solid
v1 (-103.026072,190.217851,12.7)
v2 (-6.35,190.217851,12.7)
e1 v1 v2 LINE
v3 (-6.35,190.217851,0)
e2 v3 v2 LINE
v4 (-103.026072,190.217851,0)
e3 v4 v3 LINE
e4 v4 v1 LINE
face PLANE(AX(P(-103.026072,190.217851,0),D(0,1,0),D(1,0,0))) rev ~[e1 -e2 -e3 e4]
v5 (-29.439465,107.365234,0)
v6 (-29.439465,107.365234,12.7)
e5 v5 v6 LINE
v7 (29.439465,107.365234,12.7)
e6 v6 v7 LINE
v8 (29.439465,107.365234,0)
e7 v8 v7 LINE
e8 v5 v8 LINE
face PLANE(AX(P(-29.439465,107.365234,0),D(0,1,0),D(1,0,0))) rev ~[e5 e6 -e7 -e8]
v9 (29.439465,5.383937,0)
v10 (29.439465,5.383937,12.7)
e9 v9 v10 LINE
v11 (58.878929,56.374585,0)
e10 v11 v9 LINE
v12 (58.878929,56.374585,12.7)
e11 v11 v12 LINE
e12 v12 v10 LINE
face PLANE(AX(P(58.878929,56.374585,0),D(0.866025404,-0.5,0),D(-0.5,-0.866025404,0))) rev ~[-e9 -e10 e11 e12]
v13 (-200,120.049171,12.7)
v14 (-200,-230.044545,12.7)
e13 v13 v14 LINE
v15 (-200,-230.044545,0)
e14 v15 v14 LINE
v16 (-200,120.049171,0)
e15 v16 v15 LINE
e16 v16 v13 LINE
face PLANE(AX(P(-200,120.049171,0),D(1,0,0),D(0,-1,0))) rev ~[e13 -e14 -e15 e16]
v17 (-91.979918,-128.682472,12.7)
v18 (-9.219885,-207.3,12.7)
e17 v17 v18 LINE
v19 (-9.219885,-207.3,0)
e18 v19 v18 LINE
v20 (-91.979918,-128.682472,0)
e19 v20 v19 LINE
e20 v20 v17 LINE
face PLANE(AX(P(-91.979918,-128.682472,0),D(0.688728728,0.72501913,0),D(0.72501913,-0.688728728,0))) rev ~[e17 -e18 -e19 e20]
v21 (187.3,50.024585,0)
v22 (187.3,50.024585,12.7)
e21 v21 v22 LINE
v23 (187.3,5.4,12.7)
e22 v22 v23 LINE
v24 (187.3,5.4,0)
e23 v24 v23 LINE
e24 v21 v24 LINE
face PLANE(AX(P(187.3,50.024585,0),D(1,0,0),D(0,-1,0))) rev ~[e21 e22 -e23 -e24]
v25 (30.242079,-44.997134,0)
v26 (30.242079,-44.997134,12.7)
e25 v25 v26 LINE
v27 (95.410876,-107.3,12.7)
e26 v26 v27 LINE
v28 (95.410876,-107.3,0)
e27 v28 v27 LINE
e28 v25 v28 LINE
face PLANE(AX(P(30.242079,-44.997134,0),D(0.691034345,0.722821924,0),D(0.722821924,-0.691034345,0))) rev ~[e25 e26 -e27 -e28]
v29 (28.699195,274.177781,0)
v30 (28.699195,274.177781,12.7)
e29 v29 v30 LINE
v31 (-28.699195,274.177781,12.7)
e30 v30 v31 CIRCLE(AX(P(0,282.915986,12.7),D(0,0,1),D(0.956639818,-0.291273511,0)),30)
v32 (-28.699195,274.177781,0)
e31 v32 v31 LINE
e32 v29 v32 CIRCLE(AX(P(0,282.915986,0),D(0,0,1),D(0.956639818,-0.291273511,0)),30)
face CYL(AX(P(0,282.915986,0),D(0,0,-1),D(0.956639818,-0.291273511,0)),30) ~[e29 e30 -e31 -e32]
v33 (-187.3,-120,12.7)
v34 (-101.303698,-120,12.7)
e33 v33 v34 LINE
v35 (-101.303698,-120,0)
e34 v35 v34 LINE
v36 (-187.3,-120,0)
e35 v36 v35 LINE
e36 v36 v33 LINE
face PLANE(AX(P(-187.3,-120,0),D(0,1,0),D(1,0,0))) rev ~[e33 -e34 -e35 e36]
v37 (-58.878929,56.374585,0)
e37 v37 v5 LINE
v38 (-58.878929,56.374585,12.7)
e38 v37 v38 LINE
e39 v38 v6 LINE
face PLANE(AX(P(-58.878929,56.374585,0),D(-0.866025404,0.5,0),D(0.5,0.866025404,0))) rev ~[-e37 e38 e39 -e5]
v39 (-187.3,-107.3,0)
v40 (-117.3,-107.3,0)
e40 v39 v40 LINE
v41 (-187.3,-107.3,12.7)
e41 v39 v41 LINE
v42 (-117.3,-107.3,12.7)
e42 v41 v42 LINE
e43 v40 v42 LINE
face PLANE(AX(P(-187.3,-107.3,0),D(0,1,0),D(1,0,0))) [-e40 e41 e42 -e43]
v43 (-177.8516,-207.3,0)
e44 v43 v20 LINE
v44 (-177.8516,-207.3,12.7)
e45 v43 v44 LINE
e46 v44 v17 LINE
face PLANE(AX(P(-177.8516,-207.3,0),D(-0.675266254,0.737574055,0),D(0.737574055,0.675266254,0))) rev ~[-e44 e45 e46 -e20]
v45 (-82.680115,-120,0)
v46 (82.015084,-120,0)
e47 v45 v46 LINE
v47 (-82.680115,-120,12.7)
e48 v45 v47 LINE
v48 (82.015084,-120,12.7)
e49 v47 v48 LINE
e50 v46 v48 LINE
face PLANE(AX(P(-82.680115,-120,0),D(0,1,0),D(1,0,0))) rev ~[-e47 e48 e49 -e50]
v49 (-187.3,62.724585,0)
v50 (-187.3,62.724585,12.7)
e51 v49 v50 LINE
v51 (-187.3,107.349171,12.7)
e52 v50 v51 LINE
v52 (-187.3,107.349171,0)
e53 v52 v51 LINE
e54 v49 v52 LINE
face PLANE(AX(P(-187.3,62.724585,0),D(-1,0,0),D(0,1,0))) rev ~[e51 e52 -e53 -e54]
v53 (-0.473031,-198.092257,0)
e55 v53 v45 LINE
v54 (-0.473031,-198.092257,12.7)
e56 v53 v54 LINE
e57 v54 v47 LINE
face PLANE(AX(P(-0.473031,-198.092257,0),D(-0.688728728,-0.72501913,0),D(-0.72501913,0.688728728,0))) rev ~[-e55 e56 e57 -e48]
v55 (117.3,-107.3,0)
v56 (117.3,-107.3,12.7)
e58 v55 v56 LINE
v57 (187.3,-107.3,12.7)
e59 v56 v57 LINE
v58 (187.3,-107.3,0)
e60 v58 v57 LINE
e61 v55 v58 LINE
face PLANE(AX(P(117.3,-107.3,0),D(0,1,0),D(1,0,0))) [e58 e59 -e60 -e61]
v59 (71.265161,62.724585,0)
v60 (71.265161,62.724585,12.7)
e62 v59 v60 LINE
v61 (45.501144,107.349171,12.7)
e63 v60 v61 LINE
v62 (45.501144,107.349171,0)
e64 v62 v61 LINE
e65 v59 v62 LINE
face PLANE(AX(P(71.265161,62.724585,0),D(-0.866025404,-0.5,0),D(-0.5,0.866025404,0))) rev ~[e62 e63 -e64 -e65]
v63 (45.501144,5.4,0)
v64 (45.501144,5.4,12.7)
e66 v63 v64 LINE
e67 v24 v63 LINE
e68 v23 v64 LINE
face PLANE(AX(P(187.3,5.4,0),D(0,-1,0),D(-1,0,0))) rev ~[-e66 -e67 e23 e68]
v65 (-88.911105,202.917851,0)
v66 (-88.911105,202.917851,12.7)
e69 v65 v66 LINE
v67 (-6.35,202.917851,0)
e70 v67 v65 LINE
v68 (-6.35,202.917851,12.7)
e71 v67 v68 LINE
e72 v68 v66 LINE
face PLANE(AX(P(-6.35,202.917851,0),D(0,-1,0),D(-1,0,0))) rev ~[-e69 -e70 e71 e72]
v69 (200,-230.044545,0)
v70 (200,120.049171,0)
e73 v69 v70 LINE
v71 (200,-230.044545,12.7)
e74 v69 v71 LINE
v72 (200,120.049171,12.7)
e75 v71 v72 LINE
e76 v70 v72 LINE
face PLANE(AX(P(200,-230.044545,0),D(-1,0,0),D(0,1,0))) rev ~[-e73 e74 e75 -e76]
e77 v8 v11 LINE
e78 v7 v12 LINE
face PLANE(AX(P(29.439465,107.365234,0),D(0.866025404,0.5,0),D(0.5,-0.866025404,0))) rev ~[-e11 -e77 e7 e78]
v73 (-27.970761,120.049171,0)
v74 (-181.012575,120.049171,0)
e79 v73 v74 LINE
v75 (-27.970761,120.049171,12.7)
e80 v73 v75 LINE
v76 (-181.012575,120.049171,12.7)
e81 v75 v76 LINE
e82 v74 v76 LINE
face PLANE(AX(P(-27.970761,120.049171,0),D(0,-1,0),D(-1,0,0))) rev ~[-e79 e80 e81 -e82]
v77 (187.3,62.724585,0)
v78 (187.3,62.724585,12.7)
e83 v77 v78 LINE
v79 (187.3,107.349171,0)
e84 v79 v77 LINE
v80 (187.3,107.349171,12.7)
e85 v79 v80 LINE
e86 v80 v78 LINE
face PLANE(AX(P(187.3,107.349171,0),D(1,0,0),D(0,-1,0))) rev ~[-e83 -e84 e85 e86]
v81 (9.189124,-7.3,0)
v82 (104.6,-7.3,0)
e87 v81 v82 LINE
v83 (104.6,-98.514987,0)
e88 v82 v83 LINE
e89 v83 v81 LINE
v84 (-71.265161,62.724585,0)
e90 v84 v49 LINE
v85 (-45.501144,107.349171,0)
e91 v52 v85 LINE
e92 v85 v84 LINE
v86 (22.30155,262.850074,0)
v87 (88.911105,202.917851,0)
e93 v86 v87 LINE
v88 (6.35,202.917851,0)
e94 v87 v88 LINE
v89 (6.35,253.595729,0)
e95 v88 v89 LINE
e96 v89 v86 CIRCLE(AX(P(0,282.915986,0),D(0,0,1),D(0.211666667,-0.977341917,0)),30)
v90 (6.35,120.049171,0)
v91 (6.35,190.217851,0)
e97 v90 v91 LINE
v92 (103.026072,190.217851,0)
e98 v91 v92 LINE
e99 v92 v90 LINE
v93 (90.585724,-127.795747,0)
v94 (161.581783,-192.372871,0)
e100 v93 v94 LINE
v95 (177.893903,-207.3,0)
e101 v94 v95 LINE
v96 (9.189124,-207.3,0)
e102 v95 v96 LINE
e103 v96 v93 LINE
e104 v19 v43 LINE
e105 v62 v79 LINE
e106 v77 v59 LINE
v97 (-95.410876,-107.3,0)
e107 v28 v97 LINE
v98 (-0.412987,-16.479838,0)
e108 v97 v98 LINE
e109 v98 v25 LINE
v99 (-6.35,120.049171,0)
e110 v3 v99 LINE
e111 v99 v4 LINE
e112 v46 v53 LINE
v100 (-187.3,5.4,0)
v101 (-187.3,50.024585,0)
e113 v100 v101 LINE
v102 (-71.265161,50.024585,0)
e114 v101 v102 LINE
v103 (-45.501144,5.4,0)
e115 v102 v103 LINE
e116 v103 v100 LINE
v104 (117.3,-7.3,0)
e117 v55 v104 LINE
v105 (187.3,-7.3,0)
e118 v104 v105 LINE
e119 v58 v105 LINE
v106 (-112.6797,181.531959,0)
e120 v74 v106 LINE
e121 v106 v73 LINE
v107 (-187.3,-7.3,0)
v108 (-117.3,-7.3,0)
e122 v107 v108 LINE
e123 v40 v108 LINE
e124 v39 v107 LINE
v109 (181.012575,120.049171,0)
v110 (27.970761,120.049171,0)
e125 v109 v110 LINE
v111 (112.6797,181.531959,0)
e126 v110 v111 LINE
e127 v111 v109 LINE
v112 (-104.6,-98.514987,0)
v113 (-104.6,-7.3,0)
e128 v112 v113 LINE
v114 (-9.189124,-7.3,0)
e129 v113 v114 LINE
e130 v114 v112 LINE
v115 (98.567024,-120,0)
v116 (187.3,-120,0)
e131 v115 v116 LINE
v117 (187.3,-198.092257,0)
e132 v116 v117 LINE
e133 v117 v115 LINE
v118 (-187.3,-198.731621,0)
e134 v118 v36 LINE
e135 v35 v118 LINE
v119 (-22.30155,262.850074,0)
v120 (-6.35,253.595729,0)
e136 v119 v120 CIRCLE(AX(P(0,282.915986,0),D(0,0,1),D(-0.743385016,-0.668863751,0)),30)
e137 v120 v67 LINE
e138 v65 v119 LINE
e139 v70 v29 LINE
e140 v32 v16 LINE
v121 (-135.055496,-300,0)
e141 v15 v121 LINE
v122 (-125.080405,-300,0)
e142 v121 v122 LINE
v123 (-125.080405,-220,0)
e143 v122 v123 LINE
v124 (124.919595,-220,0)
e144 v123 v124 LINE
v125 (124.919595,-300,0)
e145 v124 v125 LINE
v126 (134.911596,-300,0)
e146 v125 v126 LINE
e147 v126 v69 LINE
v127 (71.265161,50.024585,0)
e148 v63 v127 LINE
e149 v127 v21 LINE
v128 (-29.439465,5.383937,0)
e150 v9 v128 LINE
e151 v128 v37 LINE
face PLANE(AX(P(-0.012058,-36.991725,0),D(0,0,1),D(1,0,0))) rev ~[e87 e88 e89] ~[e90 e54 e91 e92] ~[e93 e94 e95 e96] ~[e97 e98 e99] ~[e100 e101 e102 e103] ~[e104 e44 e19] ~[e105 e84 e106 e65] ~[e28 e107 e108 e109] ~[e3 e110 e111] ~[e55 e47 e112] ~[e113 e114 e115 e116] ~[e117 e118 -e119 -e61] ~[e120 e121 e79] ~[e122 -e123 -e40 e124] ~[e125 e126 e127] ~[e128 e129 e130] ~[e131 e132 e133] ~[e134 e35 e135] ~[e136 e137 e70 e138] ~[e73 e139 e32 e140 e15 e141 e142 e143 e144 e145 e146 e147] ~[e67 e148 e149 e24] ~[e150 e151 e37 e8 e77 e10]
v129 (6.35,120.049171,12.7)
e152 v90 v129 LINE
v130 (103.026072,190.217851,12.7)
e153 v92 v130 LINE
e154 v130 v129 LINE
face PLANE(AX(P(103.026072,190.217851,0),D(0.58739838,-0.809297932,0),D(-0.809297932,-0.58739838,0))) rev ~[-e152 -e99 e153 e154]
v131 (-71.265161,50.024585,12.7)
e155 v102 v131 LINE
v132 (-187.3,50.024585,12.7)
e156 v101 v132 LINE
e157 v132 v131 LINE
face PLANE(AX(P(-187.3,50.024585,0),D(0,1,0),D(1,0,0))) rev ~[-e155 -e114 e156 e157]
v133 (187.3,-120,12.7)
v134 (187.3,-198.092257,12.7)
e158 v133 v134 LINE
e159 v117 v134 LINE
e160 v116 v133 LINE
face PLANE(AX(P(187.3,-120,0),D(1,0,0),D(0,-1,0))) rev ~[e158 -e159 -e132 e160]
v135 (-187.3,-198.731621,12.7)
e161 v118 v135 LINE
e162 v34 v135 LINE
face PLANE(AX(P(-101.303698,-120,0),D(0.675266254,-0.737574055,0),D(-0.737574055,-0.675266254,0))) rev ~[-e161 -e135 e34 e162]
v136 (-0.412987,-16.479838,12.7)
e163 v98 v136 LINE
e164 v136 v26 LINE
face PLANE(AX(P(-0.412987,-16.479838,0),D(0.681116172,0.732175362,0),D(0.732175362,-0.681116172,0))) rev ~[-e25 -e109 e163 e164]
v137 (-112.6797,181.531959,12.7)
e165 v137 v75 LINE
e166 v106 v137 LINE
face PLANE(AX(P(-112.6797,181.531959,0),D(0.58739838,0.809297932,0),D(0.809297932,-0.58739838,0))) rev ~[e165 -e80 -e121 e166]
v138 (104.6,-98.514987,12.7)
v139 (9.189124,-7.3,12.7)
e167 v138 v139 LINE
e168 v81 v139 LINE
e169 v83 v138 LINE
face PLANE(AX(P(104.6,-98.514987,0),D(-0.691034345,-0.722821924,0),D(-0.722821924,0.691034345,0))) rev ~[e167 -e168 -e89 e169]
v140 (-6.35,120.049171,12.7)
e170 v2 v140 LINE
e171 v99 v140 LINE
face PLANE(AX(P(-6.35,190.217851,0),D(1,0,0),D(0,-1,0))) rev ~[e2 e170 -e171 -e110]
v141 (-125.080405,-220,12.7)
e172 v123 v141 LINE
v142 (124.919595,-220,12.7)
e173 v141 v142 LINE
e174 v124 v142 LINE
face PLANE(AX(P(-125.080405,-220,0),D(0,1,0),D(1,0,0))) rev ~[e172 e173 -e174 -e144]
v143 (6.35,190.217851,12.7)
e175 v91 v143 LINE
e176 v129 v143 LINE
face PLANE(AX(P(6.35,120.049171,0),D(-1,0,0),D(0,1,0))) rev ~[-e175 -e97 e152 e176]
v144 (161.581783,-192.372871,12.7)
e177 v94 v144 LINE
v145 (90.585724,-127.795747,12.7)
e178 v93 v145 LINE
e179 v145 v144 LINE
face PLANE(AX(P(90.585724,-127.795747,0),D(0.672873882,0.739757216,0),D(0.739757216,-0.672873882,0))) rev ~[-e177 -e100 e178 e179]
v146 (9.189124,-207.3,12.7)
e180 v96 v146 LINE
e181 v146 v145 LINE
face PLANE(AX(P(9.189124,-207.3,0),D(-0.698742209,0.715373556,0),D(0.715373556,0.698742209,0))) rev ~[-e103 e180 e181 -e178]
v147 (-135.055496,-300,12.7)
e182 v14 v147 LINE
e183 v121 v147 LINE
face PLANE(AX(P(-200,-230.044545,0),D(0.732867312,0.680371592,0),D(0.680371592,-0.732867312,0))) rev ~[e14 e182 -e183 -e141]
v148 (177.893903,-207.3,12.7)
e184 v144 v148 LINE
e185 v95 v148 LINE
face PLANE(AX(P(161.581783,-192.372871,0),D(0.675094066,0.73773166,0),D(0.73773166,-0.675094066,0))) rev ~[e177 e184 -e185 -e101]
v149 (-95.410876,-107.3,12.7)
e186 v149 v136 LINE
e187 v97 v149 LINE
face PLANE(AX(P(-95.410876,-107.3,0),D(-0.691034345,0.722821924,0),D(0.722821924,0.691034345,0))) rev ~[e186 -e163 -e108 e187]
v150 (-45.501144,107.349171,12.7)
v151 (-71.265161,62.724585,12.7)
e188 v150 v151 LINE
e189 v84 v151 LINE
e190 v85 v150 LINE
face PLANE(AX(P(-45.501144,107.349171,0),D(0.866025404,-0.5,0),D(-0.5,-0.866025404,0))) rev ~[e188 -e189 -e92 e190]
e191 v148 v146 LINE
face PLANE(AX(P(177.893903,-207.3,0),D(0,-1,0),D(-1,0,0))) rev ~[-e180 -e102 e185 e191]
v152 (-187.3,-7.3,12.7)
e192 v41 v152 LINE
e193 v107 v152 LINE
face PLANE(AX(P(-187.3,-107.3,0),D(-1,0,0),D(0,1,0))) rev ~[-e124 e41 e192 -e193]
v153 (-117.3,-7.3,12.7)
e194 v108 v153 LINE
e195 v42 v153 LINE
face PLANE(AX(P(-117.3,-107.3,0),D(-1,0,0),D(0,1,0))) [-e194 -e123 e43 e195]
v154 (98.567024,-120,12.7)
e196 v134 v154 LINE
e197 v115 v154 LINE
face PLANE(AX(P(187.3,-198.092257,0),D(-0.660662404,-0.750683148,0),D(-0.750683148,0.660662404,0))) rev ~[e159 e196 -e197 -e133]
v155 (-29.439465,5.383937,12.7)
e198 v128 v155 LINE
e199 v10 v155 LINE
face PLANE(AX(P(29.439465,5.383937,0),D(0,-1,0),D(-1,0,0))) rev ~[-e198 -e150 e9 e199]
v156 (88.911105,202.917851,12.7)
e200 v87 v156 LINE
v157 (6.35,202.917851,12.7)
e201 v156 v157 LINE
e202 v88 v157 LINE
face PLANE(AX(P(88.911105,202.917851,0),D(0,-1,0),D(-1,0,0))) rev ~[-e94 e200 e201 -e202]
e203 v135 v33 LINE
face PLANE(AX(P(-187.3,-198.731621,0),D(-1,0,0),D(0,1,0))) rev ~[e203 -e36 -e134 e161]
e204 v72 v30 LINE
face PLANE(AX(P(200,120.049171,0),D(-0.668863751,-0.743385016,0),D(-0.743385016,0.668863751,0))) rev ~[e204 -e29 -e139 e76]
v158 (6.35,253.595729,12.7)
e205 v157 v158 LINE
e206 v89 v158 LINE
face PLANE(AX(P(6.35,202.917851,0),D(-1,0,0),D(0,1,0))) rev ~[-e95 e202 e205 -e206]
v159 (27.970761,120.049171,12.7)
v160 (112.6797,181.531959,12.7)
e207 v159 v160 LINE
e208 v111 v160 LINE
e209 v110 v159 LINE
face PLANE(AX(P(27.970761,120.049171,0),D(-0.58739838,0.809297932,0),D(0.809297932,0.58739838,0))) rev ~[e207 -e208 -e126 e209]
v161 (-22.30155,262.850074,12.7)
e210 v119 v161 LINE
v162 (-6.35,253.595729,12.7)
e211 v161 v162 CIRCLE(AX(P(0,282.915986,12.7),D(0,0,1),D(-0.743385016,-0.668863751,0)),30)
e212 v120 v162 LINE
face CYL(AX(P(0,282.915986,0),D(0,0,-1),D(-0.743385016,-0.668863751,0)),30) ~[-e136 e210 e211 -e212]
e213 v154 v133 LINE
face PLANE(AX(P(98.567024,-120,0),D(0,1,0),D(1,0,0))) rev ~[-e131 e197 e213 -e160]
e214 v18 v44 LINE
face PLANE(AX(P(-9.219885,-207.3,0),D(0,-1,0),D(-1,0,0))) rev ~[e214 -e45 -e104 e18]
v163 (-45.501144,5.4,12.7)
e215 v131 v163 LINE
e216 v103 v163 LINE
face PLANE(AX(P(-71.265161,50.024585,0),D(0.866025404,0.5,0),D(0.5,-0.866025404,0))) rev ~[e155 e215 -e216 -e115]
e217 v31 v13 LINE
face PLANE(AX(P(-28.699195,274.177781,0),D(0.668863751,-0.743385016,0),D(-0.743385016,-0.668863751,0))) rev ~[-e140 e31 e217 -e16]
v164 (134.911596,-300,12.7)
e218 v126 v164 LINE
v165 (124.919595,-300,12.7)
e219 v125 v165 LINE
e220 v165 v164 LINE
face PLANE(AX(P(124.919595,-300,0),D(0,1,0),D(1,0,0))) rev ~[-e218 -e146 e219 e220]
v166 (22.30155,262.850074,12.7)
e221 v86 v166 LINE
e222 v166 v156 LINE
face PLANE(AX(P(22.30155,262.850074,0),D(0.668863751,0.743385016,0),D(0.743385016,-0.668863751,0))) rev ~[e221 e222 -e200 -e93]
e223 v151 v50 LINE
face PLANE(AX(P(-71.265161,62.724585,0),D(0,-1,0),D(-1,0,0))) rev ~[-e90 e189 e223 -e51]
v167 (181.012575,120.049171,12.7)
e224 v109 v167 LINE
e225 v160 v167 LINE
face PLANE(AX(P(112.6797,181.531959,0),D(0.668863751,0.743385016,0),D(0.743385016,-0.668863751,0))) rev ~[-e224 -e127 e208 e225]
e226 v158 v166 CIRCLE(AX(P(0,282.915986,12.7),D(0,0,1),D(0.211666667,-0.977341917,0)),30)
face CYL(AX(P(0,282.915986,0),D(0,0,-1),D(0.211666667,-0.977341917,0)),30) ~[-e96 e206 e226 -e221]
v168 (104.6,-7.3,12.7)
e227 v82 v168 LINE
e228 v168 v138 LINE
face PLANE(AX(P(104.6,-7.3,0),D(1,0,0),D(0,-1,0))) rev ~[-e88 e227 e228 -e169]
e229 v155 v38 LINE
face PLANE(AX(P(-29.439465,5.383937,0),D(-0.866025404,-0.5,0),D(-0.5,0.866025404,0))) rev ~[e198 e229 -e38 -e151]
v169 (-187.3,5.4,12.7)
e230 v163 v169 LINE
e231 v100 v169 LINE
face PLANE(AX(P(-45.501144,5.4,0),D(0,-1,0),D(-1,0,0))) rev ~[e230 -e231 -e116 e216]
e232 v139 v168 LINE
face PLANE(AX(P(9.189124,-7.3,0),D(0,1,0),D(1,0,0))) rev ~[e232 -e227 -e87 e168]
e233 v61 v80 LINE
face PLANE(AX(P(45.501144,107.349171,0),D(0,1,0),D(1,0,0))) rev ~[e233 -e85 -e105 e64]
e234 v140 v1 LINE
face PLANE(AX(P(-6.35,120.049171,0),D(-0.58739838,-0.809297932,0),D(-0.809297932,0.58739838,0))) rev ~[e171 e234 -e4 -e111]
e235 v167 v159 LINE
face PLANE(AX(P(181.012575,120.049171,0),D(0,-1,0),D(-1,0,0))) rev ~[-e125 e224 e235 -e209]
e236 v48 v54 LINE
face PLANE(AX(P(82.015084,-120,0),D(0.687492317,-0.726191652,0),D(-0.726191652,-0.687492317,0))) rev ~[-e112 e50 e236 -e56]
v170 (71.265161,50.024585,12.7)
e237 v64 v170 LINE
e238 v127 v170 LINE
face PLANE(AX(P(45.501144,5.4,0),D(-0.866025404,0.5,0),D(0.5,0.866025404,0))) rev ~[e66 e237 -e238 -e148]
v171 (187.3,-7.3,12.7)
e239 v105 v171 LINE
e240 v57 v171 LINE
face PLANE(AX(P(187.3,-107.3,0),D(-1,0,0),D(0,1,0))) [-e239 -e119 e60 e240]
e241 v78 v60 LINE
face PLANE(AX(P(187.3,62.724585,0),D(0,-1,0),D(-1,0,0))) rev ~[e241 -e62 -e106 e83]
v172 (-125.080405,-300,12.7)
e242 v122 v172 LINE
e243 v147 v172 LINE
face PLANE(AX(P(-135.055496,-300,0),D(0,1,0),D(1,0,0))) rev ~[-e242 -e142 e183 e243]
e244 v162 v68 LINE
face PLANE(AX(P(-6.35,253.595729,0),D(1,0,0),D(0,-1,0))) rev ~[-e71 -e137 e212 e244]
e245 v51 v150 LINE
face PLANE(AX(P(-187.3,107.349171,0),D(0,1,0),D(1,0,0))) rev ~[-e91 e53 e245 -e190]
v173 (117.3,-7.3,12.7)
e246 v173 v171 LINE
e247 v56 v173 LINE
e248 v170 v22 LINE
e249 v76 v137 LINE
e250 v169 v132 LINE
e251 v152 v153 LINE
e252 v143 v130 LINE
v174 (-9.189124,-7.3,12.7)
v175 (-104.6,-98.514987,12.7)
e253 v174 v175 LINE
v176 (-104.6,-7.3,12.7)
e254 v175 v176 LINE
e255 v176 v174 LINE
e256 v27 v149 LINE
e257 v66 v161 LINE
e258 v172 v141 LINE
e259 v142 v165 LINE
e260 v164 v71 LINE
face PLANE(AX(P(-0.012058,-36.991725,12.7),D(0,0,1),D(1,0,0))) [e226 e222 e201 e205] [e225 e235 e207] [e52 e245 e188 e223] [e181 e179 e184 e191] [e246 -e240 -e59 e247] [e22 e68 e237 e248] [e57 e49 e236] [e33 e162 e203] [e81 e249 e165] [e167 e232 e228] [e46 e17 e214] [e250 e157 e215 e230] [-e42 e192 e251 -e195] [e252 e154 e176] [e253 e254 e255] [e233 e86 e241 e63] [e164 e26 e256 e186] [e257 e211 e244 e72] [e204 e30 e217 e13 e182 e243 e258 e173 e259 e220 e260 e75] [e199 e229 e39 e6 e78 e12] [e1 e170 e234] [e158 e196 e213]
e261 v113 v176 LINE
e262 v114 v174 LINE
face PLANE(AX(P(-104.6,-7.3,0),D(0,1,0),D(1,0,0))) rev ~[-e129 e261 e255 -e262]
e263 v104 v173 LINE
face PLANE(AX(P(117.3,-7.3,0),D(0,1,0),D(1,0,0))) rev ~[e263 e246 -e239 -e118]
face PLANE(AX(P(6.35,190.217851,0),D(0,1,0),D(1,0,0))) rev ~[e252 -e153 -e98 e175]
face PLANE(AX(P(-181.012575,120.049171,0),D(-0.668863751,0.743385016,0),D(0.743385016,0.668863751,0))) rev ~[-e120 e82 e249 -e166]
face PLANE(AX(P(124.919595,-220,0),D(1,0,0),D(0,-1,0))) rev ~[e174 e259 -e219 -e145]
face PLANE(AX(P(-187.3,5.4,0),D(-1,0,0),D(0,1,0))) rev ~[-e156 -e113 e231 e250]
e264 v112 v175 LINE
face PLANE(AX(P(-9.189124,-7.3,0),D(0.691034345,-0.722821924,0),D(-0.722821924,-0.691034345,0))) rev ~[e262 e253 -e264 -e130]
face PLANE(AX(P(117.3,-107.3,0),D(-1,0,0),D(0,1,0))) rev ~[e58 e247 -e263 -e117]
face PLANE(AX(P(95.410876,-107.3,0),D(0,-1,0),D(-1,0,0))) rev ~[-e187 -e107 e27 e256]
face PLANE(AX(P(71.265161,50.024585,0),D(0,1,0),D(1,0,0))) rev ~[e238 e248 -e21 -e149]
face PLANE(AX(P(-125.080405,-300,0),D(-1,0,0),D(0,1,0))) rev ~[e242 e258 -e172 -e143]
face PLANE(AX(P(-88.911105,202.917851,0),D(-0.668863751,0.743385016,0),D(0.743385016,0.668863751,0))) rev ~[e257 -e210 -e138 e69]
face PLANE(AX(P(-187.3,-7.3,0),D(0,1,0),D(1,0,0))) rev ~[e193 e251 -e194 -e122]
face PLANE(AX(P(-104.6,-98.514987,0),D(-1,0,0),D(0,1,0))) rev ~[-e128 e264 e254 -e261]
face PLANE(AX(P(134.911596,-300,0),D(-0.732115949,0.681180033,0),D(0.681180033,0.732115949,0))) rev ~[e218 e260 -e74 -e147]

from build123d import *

# Parameters (mm, degrees)
SKETCH2_W           = 70
SKETCH2_H           = 100
BOSS_EXTRUDE3_DEPTH = 12.7


with BuildPart() as part:
    # Sketch2 → Boss-Extrude3 (new body)
    with BuildSketch(Plane.XY):
        with BuildLine():
            Line((-200, -230.044545372), (-135.055496126, -300))
            Line((-135.055496126, -300), (-125.080405008, -300))
            Line((-125.080405008, -300), (-125.080405008, -220))
            Line((-125.080405008, -220), (124.919594992, -220))
            Line((124.919594992, -220), (124.919594992, -300))
            Line((124.919594992, -300), (134.911595754, -300))
            Line((134.911595754, -300), (200, -230.044545372))
            Line((200, -230.044545372), (200, 120.049170717))
            Line((200, 120.049170717), (28.699194546, 274.177780708))
            ThreePointArc((28.699194546, 274.177780708), (0, 312.915986038), (-28.699194546, 274.177780708))
            Line((-28.699194546, 274.177780708), (-200, 120.049170717))
            Line((-200, 120.049170717), (-200, -230.044545372))
        make_face()
        Polygon((-187.3, -198.731620565), (-187.3, -120), (-101.303698117, -120), align=None, mode=Mode.SUBTRACT)
        Polygon((-177.851600054, -207.3), (-91.979918019, -128.682471814), (-9.219885484, -207.3), align=None, mode=Mode.SUBTRACT)
        Polygon((-0.473030641, -198.092257044), (-82.680114516, -120), (82.015084133, -120), align=None, mode=Mode.SUBTRACT)
        with Locations((-152.3, -57.3)):
            Rectangle(SKETCH2_W, SKETCH2_H, mode=Mode.SUBTRACT)
        Polygon((-71.265160823, 50.024585359), (-45.501144454, 5.4), (-187.3, 5.4), (-187.3, 50.024585359), align=None, mode=Mode.SUBTRACT)
        Polygon((-104.6, -7.3), (-9.189123593, -7.3), (-104.6, -98.514987005), align=None, mode=Mode.SUBTRACT)
        Polygon((177.8939034, -207.3), (9.189123593, -207.3), (90.58572411, -127.795746586), (161.581783291, -192.372871222), align=None, mode=Mode.SUBTRACT)
        Polygon((187.3, -198.092257044), (98.567023769, -120), (187.3, -120), align=None, mode=Mode.SUBTRACT)
        Polygon((-95.410876407, -107.3), (-0.412987416, -16.479838441), (30.242078983, -44.997134394), (95.410876407, -107.3), align=None, mode=Mode.SUBTRACT)
        Polygon((9.189123593, -7.3), (104.6, -7.3), (104.6, -98.514987005), align=None, mode=Mode.SUBTRACT)
        with Locations((152.3, -57.3)):
            Rectangle(SKETCH2_W, SKETCH2_H, mode=Mode.SUBTRACT)
        Polygon((-45.501144454, 107.349170717), (-71.265160823, 62.724585359), (-187.3, 62.724585359), (-187.3, 107.349170717), align=None, mode=Mode.SUBTRACT)
        Polygon((-112.679699791, 181.531958935), (-27.970761031, 120.049170717), (-181.012575458, 120.049170717), align=None, mode=Mode.SUBTRACT)
        Polygon((-103.026071592, 190.217850935), (-6.35, 190.217850935), (-6.35, 120.049170717), align=None, mode=Mode.SUBTRACT)
        with BuildLine():
            Line((-6.35, 253.595728536), (-6.35, 202.917850935))
            Line((-6.35, 202.917850935), (-88.911104686, 202.917850935))
            Line((-88.911104686, 202.917850935), (-22.301550494, 262.85007351))
            ThreePointArc((-22.301550494, 262.85007351), (-15.054519642, 256.966777219), (-6.35, 253.595728536))
        make_face(mode=Mode.SUBTRACT)
        Polygon((29.439464567, 5.383936982), (-29.439464567, 5.383936982), (-58.878929133, 56.374585359), (-29.439464567, 107.365233736), (29.439464567, 107.365233736), (58.878929133, 56.374585359), align=None, mode=Mode.SUBTRACT)
        Polygon((187.3, 5.4), (45.501144454, 5.4), (71.265160823, 50.024585359), (187.3, 50.024585359), align=None, mode=Mode.SUBTRACT)
        Polygon((187.3, 107.349170717), (187.3, 62.724585359), (71.265160823, 62.724585359), (45.501144454, 107.349170717), align=None, mode=Mode.SUBTRACT)
        Polygon((6.35, 120.049170717), (6.35, 190.217850935), (103.026071592, 190.217850935), align=None, mode=Mode.SUBTRACT)
        with BuildLine():
            Line((6.35, 202.917850935), (6.35, 253.595728536))
            ThreePointArc((6.35, 253.595728536), (15.054519642, 256.966777219), (22.301550494, 262.85007351))
            Line((22.301550494, 262.85007351), (88.911104686, 202.917850935))
            Line((88.911104686, 202.917850935), (6.35, 202.917850935))
        make_face(mode=Mode.SUBTRACT)
        Polygon((181.012575458, 120.049170717), (27.970761031, 120.049170717), (112.679699791, 181.531958935), align=None, mode=Mode.SUBTRACT)
    extrude(amount=BOSS_EXTRUDE3_DEPTH)


solid = part.part
